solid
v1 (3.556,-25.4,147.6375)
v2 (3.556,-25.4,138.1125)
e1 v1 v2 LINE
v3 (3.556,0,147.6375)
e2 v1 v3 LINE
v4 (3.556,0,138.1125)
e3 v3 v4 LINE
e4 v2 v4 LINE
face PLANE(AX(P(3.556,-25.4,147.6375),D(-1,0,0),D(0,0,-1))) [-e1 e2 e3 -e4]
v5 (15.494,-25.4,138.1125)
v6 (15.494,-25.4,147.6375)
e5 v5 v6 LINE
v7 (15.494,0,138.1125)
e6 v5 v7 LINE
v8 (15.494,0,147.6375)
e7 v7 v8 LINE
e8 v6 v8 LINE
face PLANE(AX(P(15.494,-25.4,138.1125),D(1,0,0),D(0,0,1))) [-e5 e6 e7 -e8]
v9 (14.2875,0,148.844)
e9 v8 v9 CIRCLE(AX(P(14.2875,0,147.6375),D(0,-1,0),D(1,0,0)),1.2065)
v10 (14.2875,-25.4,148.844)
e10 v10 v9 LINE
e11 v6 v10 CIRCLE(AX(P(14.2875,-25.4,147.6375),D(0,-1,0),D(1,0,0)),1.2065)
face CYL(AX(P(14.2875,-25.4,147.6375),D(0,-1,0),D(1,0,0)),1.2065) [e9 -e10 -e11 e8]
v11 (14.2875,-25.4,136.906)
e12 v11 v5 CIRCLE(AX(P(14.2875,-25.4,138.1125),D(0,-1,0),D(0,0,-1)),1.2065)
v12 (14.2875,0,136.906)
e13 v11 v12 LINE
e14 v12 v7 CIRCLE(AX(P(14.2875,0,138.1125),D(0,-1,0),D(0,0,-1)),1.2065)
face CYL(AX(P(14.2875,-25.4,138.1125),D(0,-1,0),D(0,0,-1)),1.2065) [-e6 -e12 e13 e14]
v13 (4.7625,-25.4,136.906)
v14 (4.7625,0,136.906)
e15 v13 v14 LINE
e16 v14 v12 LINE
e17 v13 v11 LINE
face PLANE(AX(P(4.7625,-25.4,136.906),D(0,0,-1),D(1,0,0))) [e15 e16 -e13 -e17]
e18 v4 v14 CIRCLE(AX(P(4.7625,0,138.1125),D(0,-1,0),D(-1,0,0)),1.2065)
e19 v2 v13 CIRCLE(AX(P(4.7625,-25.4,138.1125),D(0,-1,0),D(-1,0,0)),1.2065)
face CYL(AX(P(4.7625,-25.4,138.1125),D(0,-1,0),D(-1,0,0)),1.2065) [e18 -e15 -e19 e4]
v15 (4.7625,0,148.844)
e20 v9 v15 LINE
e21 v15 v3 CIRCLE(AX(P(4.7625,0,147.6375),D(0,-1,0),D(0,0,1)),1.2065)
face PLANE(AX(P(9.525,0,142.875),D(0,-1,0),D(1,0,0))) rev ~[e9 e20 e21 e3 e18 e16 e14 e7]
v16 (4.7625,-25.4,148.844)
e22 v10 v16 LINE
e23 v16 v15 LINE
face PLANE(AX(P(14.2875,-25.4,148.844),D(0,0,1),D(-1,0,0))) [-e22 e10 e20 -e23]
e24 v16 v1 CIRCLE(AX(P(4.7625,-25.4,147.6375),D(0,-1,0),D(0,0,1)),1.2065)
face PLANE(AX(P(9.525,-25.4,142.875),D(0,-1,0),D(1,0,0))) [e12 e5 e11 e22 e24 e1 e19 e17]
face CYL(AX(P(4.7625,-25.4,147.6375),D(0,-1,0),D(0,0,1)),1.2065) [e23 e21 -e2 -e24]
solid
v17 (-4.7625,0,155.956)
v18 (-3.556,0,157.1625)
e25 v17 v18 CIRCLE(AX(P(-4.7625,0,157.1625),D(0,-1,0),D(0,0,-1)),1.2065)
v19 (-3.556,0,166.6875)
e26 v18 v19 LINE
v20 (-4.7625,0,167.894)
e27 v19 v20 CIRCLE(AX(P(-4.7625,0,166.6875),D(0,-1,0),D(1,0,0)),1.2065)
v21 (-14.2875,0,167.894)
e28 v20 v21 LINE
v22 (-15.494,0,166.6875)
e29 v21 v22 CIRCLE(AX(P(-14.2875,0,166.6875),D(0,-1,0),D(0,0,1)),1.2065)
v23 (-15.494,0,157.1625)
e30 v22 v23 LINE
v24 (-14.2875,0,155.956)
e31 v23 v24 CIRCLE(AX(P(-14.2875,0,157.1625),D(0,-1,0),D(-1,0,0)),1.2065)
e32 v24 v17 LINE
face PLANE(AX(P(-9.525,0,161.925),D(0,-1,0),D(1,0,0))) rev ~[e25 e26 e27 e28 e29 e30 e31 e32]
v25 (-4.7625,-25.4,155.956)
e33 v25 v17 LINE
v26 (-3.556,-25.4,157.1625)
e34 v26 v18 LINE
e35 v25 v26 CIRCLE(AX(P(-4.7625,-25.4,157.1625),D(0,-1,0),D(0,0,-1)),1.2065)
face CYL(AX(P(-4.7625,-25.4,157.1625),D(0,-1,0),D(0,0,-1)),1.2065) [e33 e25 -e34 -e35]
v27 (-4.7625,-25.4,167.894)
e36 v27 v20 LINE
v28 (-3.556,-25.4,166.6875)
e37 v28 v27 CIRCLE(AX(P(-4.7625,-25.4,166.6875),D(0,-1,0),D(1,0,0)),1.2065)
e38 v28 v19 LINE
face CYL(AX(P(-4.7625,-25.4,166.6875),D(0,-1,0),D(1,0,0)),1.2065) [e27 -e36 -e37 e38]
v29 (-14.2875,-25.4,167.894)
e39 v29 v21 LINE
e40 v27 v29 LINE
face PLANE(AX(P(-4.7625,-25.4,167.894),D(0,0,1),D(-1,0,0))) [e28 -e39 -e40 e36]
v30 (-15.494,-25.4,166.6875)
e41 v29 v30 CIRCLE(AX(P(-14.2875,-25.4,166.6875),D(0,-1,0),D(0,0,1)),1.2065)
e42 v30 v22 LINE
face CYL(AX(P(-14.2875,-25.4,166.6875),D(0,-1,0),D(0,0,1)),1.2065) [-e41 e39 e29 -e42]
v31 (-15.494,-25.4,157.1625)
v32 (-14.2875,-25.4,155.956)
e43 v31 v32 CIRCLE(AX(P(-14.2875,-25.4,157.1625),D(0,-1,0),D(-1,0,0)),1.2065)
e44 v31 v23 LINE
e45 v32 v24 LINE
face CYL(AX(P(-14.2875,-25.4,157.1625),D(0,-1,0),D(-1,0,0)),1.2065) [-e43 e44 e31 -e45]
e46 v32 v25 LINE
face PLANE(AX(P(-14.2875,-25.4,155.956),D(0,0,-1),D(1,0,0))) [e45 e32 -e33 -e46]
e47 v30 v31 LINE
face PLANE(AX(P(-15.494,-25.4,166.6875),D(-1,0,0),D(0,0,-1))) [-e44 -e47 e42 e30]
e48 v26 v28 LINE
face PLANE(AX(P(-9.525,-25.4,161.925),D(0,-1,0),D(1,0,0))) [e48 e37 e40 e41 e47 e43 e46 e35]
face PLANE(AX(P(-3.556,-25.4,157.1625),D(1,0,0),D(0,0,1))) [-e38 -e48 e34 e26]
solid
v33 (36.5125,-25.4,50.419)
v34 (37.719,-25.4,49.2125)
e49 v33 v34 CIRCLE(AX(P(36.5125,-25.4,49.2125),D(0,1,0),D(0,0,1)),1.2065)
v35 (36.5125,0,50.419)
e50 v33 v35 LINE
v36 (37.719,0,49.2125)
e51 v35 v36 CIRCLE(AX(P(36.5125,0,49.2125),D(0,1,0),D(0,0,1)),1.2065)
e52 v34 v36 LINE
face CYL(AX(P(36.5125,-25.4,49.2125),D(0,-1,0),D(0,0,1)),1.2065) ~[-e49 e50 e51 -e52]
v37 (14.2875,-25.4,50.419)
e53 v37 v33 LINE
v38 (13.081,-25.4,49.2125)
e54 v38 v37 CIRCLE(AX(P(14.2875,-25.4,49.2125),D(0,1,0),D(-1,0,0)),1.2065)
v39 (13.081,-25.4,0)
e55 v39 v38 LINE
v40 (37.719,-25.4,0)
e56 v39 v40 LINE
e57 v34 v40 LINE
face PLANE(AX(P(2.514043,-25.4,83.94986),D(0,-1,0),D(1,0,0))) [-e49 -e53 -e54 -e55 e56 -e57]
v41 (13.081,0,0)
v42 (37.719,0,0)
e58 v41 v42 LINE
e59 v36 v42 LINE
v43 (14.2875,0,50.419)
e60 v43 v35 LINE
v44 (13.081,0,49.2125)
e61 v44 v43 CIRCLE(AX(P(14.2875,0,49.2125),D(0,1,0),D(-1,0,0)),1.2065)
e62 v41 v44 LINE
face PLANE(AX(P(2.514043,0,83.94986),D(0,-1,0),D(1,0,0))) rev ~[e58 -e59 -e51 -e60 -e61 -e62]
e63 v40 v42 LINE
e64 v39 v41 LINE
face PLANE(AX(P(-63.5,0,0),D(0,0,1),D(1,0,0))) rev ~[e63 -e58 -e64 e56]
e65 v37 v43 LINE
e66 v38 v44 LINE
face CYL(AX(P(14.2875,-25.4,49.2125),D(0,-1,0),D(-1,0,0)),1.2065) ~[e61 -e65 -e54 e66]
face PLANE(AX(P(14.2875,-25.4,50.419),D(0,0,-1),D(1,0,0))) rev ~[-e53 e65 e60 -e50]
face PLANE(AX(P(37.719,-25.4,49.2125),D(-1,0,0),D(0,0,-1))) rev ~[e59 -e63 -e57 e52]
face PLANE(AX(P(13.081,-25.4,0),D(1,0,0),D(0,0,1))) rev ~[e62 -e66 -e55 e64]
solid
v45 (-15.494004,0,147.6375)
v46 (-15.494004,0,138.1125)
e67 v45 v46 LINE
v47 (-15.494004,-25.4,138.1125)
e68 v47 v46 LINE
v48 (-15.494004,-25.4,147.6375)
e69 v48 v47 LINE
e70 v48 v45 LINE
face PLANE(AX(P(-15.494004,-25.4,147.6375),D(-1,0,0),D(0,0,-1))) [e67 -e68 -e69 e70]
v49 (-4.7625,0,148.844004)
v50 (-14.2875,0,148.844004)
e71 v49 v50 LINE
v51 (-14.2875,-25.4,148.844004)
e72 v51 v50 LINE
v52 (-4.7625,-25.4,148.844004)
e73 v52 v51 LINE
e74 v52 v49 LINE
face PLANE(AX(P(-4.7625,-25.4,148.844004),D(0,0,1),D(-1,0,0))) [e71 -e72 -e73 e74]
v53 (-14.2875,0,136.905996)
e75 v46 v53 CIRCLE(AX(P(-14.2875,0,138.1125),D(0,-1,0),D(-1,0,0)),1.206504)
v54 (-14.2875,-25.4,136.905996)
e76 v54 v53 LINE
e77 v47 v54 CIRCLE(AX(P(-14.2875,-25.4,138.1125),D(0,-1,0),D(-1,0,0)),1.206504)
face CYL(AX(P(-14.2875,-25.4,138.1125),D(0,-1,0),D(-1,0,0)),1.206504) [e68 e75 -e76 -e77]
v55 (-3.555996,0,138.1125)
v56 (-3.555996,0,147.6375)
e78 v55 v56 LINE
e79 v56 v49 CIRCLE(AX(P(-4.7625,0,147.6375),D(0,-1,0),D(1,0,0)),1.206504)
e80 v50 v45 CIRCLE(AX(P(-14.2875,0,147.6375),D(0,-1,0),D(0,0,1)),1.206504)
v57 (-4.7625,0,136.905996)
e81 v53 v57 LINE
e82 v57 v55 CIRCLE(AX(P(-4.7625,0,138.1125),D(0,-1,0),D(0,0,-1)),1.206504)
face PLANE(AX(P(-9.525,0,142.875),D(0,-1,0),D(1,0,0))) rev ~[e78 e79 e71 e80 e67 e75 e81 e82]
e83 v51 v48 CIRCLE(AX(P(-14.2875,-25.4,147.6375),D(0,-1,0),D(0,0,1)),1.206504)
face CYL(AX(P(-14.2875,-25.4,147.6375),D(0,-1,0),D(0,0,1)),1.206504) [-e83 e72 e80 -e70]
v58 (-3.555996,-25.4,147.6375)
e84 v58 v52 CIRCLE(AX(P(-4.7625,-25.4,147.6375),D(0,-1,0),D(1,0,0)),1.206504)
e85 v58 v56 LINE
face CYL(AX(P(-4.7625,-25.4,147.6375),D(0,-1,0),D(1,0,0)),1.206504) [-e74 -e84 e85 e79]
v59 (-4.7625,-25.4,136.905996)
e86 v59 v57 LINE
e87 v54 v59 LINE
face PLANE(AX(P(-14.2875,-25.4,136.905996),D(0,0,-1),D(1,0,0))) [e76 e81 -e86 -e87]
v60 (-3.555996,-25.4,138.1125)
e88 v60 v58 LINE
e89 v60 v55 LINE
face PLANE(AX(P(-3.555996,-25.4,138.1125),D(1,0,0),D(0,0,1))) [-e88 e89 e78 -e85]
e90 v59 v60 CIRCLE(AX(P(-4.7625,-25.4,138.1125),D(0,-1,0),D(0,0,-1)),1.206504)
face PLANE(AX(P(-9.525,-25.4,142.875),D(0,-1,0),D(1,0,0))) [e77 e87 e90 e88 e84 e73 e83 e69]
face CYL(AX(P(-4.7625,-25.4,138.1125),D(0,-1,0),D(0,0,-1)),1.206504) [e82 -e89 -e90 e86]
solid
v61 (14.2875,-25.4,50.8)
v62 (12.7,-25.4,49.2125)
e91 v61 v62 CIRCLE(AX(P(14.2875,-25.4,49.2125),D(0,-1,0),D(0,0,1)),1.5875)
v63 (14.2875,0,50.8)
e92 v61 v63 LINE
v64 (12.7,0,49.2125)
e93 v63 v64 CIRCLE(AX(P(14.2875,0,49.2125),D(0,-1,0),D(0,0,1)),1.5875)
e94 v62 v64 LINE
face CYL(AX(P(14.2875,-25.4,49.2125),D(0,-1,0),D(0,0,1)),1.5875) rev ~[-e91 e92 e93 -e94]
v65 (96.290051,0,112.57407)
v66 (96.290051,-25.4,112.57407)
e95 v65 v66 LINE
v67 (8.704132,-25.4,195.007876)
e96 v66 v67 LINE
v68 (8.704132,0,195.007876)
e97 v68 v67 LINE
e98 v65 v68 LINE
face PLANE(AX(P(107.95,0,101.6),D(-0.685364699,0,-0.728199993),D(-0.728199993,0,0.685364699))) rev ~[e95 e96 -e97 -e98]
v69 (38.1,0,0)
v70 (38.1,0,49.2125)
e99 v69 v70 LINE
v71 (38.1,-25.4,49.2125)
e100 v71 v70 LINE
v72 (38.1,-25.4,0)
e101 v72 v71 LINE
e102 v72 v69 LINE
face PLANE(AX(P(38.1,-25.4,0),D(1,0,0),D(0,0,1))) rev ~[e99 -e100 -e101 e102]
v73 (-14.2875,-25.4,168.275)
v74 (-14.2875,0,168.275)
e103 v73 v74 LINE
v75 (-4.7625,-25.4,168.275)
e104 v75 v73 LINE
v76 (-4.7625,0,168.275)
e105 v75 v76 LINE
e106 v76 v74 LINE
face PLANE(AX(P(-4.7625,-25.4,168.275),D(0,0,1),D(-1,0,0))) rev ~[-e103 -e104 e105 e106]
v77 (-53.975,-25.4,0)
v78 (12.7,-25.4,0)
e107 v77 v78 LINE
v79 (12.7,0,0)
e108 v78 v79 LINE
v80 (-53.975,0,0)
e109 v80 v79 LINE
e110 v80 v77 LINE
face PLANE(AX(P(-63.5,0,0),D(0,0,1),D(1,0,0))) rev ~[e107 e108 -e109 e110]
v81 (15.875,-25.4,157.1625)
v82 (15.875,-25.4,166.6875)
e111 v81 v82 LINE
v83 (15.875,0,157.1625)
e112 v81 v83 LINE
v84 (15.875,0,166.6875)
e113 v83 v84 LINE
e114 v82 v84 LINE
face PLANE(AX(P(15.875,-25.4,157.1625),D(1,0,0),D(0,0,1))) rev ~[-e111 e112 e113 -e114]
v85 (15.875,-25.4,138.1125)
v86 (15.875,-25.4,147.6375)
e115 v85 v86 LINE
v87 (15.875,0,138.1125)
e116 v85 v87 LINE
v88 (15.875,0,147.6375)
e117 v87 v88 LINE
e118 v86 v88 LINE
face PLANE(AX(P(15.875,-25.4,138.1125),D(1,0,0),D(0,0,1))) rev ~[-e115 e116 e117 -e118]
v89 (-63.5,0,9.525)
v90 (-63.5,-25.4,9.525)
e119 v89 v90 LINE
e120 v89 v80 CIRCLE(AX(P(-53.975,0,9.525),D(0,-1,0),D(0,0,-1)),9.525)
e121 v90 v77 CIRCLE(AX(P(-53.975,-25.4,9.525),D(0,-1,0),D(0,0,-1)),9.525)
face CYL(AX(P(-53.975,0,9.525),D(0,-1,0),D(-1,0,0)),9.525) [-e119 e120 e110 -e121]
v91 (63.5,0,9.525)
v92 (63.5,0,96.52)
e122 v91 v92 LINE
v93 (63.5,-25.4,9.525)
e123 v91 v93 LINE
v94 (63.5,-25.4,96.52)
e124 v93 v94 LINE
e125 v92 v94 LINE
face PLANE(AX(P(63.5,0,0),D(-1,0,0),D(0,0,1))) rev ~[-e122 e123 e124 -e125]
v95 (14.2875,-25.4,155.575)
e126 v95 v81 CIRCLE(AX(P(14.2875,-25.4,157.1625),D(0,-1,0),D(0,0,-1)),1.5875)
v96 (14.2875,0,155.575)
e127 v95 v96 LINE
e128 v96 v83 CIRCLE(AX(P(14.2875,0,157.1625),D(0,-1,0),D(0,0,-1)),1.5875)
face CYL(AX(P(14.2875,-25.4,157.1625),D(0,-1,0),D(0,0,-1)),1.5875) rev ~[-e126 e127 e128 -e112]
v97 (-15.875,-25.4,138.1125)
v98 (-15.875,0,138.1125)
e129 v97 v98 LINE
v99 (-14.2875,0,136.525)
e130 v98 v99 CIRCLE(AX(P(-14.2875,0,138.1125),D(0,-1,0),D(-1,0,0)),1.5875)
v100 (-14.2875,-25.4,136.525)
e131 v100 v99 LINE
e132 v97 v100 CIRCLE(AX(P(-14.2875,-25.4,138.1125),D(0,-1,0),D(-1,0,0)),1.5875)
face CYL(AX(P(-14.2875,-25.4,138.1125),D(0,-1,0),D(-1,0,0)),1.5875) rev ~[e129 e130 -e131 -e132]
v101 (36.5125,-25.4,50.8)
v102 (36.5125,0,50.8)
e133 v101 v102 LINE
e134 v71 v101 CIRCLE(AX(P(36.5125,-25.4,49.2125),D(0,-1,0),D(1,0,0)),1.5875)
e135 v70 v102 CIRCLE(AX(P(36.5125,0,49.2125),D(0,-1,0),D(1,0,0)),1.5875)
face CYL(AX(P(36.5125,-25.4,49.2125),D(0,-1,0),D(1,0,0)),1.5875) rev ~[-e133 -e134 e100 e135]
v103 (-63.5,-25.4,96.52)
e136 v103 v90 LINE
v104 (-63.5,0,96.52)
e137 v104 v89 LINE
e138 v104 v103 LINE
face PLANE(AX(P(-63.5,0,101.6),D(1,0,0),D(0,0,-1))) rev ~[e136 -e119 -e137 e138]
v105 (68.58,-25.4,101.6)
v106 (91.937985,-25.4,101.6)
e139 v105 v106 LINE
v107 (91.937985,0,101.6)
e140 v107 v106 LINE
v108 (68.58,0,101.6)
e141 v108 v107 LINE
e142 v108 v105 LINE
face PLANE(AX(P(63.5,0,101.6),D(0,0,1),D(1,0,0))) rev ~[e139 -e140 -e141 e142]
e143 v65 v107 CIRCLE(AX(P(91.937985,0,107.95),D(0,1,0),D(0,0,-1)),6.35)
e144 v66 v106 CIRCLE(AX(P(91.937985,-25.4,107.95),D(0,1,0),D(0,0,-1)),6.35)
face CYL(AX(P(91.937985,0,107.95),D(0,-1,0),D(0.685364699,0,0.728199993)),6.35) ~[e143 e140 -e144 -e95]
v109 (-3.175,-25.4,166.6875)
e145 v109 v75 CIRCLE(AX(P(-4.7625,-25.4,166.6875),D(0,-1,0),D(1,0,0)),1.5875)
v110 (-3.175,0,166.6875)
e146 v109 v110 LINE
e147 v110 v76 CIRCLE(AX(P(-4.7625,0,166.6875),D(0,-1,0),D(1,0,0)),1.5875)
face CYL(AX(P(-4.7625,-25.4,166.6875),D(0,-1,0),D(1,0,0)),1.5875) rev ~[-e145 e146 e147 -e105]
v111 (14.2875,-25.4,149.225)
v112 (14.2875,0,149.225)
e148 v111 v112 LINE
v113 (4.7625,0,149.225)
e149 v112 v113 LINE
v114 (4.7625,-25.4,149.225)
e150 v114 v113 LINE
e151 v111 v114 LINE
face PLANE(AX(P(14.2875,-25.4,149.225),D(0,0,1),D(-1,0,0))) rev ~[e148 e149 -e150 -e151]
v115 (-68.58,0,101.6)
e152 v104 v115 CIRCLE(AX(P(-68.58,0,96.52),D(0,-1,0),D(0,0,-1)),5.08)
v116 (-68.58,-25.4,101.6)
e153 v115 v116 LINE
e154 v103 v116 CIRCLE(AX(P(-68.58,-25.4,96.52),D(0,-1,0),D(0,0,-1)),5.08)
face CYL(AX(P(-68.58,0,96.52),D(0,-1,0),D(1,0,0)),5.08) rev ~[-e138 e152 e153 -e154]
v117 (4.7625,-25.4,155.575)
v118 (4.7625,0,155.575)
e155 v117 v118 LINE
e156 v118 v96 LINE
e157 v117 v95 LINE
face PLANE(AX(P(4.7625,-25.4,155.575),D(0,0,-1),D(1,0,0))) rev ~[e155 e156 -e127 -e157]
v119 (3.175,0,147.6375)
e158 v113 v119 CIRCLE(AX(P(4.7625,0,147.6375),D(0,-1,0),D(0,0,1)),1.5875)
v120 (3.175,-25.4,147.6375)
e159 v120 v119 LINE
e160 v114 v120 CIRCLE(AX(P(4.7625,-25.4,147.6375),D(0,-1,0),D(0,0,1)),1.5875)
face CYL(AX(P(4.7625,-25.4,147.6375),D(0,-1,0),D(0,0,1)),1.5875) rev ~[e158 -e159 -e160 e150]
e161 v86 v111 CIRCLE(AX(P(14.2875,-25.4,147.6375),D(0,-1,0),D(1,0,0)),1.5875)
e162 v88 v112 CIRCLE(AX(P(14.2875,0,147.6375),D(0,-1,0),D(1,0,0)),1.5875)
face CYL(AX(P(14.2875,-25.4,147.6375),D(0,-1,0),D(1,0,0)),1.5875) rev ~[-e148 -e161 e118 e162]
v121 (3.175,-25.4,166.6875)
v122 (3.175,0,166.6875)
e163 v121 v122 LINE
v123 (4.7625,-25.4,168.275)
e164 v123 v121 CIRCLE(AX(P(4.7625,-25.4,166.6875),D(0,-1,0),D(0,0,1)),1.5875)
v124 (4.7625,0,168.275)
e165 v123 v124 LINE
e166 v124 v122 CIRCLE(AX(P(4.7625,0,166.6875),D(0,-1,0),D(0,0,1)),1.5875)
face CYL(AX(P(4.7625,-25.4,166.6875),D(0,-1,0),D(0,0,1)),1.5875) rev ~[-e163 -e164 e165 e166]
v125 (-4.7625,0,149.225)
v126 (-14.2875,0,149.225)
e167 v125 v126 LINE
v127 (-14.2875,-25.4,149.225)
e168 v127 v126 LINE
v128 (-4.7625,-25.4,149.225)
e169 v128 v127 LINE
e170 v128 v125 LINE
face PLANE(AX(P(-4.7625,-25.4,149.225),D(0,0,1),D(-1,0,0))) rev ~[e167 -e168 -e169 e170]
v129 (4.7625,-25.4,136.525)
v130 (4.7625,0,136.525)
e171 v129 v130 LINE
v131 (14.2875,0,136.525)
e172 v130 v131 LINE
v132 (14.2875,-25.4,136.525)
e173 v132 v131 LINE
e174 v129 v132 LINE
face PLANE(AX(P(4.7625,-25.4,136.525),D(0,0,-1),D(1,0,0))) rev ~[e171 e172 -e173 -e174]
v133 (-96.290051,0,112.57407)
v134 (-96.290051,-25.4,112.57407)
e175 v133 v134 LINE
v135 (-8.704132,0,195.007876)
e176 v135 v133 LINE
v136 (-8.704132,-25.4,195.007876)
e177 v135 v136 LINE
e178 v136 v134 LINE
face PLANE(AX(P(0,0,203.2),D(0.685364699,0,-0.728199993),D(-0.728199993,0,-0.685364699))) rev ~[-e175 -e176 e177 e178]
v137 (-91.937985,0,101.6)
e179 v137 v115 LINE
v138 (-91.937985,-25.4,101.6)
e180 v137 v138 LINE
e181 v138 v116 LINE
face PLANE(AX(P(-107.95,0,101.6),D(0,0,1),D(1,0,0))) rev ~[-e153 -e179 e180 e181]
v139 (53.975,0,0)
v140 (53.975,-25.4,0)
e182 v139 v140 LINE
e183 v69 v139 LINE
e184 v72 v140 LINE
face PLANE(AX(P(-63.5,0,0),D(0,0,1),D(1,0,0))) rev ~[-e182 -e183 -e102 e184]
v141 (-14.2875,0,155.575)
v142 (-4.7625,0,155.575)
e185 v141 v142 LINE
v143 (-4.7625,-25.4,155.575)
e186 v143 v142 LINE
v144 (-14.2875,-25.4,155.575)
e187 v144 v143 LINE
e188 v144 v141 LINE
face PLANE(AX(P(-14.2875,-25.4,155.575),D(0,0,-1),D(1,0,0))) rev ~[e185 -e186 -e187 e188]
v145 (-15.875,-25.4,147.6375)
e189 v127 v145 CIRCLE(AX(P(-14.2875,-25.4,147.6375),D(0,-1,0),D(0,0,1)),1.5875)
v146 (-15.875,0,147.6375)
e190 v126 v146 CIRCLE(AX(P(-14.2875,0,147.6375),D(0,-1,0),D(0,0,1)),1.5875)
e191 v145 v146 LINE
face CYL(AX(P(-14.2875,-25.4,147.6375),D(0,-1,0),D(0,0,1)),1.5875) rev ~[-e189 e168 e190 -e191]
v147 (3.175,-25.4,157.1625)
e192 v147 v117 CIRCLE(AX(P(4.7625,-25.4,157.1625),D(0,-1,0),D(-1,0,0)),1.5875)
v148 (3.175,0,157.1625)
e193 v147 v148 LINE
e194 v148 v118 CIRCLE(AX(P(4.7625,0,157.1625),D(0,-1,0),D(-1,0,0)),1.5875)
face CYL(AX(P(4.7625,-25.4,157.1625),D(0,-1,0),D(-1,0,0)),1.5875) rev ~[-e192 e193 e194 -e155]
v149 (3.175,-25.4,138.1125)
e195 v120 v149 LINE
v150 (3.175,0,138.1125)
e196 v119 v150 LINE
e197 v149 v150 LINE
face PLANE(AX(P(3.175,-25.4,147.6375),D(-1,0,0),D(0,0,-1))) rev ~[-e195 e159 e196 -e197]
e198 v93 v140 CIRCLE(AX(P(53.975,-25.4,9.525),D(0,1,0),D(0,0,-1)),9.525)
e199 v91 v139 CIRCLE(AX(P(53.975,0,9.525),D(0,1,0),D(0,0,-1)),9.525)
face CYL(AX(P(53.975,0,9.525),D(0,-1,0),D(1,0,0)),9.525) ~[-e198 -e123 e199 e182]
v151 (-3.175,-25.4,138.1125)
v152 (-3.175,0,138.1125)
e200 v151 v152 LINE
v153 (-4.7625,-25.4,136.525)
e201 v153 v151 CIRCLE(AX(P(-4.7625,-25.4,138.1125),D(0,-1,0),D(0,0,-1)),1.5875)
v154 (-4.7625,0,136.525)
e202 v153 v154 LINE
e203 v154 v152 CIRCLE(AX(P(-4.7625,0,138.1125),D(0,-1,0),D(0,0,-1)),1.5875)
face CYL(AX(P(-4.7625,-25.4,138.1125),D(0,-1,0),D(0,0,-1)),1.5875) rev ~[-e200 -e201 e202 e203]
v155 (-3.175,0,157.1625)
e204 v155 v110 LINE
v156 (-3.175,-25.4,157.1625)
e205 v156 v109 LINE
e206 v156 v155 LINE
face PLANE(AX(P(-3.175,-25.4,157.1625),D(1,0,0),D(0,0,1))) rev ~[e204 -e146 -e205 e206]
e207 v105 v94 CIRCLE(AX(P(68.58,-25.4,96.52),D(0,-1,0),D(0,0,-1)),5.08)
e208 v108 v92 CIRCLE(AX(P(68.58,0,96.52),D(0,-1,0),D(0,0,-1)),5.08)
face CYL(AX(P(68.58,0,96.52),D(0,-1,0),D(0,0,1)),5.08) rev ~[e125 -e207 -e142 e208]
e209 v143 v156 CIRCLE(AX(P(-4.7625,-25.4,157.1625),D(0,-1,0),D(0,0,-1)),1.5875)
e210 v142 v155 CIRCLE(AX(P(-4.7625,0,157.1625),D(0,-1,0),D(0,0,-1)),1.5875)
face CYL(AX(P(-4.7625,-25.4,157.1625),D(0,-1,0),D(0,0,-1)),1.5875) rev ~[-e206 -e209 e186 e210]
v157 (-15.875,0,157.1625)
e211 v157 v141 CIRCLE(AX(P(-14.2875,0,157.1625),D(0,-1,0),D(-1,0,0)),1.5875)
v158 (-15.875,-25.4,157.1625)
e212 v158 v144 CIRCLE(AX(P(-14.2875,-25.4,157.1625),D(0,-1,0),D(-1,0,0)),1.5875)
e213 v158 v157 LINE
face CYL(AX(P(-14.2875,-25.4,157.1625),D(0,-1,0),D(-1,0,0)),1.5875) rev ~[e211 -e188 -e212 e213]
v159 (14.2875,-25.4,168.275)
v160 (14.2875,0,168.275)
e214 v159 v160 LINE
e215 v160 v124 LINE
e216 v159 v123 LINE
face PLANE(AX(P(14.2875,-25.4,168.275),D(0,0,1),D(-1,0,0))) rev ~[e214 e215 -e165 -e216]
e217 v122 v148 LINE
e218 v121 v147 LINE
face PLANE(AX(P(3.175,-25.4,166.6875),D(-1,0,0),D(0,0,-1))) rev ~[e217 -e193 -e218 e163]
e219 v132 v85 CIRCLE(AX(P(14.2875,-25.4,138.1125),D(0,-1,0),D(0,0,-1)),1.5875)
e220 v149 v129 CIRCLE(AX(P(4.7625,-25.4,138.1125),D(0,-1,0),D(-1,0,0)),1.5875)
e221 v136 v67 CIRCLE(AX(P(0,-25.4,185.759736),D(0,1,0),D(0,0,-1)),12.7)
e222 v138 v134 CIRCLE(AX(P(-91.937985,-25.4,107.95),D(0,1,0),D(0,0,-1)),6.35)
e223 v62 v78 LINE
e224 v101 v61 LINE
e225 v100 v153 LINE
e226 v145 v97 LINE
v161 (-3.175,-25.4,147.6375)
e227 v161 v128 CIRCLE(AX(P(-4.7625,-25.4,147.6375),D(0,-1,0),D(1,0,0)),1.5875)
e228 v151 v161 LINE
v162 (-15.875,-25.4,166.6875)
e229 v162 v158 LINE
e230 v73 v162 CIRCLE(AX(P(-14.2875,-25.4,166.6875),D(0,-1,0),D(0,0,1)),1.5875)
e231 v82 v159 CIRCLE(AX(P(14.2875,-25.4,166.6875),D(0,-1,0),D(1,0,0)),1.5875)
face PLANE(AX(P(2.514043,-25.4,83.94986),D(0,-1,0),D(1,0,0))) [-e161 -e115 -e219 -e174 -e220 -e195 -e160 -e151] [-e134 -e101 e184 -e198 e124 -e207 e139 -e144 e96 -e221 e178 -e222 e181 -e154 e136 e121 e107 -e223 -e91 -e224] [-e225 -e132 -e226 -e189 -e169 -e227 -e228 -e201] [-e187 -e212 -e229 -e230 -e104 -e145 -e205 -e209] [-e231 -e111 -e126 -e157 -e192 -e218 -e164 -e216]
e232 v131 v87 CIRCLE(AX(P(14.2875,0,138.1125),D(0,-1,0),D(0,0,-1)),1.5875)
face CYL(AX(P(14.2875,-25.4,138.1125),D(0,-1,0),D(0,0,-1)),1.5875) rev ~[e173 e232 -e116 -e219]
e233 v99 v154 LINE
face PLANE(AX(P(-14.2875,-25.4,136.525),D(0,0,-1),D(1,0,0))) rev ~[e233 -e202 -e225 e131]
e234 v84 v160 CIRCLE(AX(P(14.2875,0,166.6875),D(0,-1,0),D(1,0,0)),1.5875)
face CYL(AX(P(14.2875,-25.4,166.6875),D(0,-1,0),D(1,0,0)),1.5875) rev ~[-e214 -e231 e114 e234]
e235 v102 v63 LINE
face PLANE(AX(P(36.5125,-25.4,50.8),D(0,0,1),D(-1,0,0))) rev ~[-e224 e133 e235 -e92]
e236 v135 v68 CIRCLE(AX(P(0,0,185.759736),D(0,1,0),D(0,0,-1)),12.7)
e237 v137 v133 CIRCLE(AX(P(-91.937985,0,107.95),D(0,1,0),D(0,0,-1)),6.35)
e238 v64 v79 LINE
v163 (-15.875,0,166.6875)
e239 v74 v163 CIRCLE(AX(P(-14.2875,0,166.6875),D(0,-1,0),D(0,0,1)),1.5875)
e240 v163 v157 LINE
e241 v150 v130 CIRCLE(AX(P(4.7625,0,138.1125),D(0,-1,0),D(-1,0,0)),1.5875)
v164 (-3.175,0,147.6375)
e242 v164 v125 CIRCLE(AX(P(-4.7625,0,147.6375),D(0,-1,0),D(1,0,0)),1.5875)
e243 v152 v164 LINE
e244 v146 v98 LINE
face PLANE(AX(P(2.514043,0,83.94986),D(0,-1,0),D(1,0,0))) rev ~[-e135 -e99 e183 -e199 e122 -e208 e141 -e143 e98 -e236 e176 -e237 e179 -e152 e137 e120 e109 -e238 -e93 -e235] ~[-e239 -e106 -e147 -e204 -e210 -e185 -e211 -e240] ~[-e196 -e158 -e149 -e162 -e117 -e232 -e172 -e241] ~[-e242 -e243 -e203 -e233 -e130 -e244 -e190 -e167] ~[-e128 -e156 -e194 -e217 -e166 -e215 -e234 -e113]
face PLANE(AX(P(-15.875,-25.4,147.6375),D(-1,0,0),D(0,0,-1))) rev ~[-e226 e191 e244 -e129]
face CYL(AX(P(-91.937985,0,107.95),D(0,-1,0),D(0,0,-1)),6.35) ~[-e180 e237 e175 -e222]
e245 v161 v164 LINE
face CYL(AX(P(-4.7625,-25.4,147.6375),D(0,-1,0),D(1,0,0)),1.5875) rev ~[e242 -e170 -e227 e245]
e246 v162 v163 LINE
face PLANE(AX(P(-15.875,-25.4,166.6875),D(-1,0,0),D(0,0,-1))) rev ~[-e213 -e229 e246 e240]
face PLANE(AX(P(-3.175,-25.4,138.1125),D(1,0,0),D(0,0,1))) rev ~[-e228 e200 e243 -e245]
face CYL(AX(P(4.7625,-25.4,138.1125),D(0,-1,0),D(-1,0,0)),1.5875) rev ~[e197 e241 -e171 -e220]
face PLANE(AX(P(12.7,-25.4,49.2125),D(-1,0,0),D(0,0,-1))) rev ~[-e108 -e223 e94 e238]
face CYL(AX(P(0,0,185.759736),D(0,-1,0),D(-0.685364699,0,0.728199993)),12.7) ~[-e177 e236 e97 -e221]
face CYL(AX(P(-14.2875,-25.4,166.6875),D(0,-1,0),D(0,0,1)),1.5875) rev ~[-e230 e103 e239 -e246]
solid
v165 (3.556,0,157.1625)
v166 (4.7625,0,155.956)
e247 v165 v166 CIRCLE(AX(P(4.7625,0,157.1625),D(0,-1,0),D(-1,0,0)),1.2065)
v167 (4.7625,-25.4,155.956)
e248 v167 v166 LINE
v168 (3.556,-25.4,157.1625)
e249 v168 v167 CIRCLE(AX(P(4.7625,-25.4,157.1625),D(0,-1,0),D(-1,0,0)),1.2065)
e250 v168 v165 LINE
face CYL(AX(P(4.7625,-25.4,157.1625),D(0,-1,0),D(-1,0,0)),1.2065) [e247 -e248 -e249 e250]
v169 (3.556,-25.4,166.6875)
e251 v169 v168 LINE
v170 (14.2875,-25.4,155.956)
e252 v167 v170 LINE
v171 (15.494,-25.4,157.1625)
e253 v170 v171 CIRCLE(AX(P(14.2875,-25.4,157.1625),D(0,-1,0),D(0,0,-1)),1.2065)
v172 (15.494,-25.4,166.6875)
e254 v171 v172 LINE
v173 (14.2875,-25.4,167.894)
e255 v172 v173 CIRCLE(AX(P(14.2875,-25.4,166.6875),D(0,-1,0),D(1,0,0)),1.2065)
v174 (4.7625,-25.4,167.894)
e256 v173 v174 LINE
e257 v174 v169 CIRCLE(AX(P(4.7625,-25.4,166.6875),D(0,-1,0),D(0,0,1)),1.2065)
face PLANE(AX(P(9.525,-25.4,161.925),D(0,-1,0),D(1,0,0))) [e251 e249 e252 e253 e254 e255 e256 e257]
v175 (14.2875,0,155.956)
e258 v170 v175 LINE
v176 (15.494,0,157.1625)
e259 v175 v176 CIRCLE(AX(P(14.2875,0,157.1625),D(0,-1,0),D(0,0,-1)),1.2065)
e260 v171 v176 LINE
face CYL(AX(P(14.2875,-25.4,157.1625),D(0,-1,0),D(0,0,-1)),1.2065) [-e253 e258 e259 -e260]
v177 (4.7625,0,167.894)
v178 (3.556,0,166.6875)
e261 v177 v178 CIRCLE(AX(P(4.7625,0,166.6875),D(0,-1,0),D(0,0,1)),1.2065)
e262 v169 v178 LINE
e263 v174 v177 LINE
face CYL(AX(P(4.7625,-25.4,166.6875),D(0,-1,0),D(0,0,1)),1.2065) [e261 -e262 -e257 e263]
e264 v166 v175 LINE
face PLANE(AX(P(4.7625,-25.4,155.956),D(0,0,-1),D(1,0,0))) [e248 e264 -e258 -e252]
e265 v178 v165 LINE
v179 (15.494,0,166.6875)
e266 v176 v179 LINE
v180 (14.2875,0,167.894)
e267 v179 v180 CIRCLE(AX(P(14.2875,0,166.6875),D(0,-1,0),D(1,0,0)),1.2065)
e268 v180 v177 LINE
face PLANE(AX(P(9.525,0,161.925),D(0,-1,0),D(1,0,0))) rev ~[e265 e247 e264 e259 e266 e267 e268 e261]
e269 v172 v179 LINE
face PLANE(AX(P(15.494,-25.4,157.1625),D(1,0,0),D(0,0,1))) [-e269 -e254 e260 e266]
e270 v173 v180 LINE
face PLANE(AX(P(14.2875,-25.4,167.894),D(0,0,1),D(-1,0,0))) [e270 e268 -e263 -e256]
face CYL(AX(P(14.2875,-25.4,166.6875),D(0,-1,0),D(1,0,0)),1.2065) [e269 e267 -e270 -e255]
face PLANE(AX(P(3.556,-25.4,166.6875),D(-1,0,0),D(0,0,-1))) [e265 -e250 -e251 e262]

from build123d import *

# Parameters (mm, degrees)
F0_W     = 25.0974502414
F0_H     = 46.2554767728
F1_DEPTH = 25.4
F3_DEPTH = 25.4
F5_DEPTH = 25.4
F7_DEPTH = 25.4
F8_R     = 6.35
F9_R     = 12.7
F10_R    = 9.525
F11_R    = 5.08


with BuildPart() as f1:
    # F0 (on Front) → F1 (new body)
    with BuildSketch(Plane.XZ):
        Polygon((-63.5, 101.6), (-63.5, 0), (9.4117764384, 0), (9.4117764384, 46.2554767728), (34.5092266798, 46.2554767728), (34.5092266798, 0), (63.5, 0), (63.5, 101.6), (107.95, 101.6), (0, 203.2), (-107.95, 101.6), align=None)
        with Locations((21.9605015591, 23.1277383864)):
            Rectangle(F0_W, F0_H)
    extrude(amount=F1_DEPTH)

    # F2 (on face) → F3 (cut)
    with BuildSketch(Plane.XZ.offset(25.4)):
        with BuildLine():
            Line((14.2875, 168.275), (4.7625, 168.275))
            ThreePointArc((4.7625, 168.275), (3.6399679849, 167.8100320151), (3.175, 166.6875))
            Line((3.175, 166.6875), (3.175, 157.1625))
            ThreePointArc((3.175, 157.1625), (3.6399679849, 156.0399679849), (4.7625, 155.575))
            Line((4.7625, 155.575), (14.2875, 155.575))
            ThreePointArc((14.2875, 155.575), (15.4100320151, 156.0399679849), (15.875, 157.1625))
            Line((15.875, 157.1625), (15.875, 166.6875))
            ThreePointArc((15.875, 166.6875), (15.4100320151, 167.8100320151), (14.2875, 168.275))
        make_face()
        with BuildLine():
            Line((-4.7625, 149.225), (-14.2875, 149.225))
            ThreePointArc((-14.2875, 149.225), (-15.4100320151, 148.7600320151), (-15.875, 147.6375))
            Line((-15.875, 147.6375), (-15.875, 138.1125))
            ThreePointArc((-15.875, 138.1125), (-15.4100320151, 136.9899679849), (-14.2875, 136.525))
            Line((-14.2875, 136.525), (-4.7625, 136.525))
            ThreePointArc((-4.7625, 136.525), (-3.6399679849, 136.9899679849), (-3.175, 138.1125))
            Line((-3.175, 138.1125), (-3.175, 147.6375))
            ThreePointArc((-3.175, 147.6375), (-3.6399679849, 148.7600320151), (-4.7625, 149.225))
        make_face()
        with BuildLine():
            Line((14.2875, 149.225), (4.7625, 149.225))
            ThreePointArc((4.7625, 149.225), (3.6399679849, 148.7600320151), (3.175, 147.6375))
            Line((3.175, 147.6375), (3.175, 138.1125))
            ThreePointArc((3.175, 138.1125), (3.6399679849, 136.9899679849), (4.7625, 136.525))
            Line((4.7625, 136.525), (14.2875, 136.525))
            ThreePointArc((14.2875, 136.525), (15.4100320151, 136.9899679849), (15.875, 138.1125))
            Line((15.875, 138.1125), (15.875, 147.6375))
            ThreePointArc((15.875, 147.6375), (15.4100320151, 148.7600320151), (14.2875, 149.225))
        make_face()
        with BuildLine():
            Line((-4.7625, 168.275), (-14.2875, 168.275))
            ThreePointArc((-14.2875, 168.275), (-15.4100320151, 167.8100320151), (-15.875, 166.6875))
            Line((-15.875, 166.6875), (-15.875, 157.1625))
            ThreePointArc((-15.875, 157.1625), (-15.4100320151, 156.0399679849), (-14.2875, 155.575))
            Line((-14.2875, 155.575), (-4.7625, 155.575))
            ThreePointArc((-4.7625, 155.575), (-3.6399679849, 156.0399679849), (-3.175, 157.1625))
            Line((-3.175, 157.1625), (-3.175, 166.6875))
            ThreePointArc((-3.175, 166.6875), (-3.6399679849, 167.8100320151), (-4.7625, 168.275))
        make_face()
    extrude(amount=-F3_DEPTH, mode=Mode.SUBTRACT)

    # F6 (on face) → F7 (cut)
    with BuildSketch(Plane.XZ.offset(25.4)):
        with BuildLine():
            Line((12.7, 49.2125), (12.7, 0))
            Line((12.7, 0), (13.081, 0))
            Line((13.081, 0), (13.081, 49.2125))
            ThreePointArc((13.081, 49.2125), (13.4343756685, 50.0656243315), (14.2875, 50.419))
            Line((14.2875, 50.419), (36.5125, 50.419))
            ThreePointArc((36.5125, 50.419), (37.3656243315, 50.0656243315), (37.719, 49.2125))
            Line((37.719, 49.2125), (37.719, 0))
            Line((37.719, 0), (38.1, 0))
            Line((38.1, 0), (38.1, 49.2125))
            ThreePointArc((38.1, 49.2125), (37.6350320151, 50.3350320151), (36.5125, 50.8))
            Line((36.5125, 50.8), (14.2875, 50.8))
            ThreePointArc((14.2875, 50.8), (13.1649679849, 50.3350320151), (12.7, 49.2125))
        make_face()
    extrude(amount=-F7_DEPTH, mode=Mode.SUBTRACT)

    # F8
    f8_edges = [f1.edges().sort_by_distance(p)[0] for p in [
        (107.95, -12.7, 101.6),
        (-107.95, -12.7, 101.6),
    ]]
    fillet(f8_edges, radius=F8_R)

    # F9
    f9_edges = [f1.edges().sort_by_distance(p)[0] for p in [
        (0, -12.7, 203.2),
    ]]
    fillet(f9_edges, radius=F9_R)

    # F10
    f10_edges = [f1.edges().sort_by_distance(p)[0] for p in [
        (63.5, -12.7, 0),
        (-63.5, -12.7, 0),
    ]]
    fillet(f10_edges, radius=F10_R)

    # F11
    f11_edges = [f1.edges().sort_by_distance(p)[0] for p in [
        (-63.5, -12.7, 101.6),
        (63.5, -12.7, 101.6),
    ]]
    fillet(f11_edges, radius=F11_R)


with BuildPart() as f5:
    # F4 (on face) → F5 (new body)
    with BuildSketch(Plane.XZ.offset(25.4)):
        with BuildLine():
            Line((-4.7625, 167.894), (-14.2875, 167.894))
            ThreePointArc((-14.2875, 167.894), (-15.1406243315, 167.5406243315), (-15.494, 166.6875))
            Line((-15.494, 166.6875), (-15.494, 157.1625))
            ThreePointArc((-15.494, 157.1625), (-15.1406243315, 156.3093756685), (-14.2875, 155.956))
            Line((-14.2875, 155.956), (-4.7625, 155.956))
            ThreePointArc((-4.7625, 155.956), (-3.9093756685, 156.3093756685), (-3.556, 157.1625))
            Line((-3.556, 157.1625), (-3.556, 166.6875))
            ThreePointArc((-3.556, 166.6875), (-3.9093756685, 167.5406243315), (-4.7625, 167.894))
        make_face()
    extrude(amount=-F5_DEPTH)


with BuildPart() as f5b:
    # F4 (on face) → F5, piece 2 (new body)
    with BuildSketch(Plane.XZ.offset(25.4)):
        with BuildLine():
            Line((14.2875, 167.894), (4.7625, 167.894))
            ThreePointArc((4.7625, 167.894), (3.9093756685, 167.5406243315), (3.556, 166.6875))
            Line((3.556, 166.6875), (3.556, 157.1625))
            ThreePointArc((3.556, 157.1625), (3.9093756685, 156.3093756685), (4.7625, 155.956))
            Line((4.7625, 155.956), (14.2875, 155.956))
            ThreePointArc((14.2875, 155.956), (15.1406243315, 156.3093756685), (15.494, 157.1625))
            Line((15.494, 157.1625), (15.494, 166.6875))
            ThreePointArc((15.494, 166.6875), (15.1406243315, 167.5406243315), (14.2875, 167.894))
        make_face()
    extrude(amount=-F5_DEPTH)


with BuildPart() as f5c:
    # F4 (on face) → F5, piece 3 (new body)
    with BuildSketch(Plane.XZ.offset(25.4)):
        with BuildLine():
            Line((-4.7625, 148.8440036774), (-14.2875, 148.8440036774))
            ThreePointArc((-14.2875, 148.8440036774), (-15.1406269318, 148.4906269318), (-15.4940036774, 147.6375))
            Line((-15.4940036774, 147.6375), (-15.4940036774, 138.1125))
            ThreePointArc((-15.4940036774, 138.1125), (-15.1406269318, 137.2593730682), (-14.2875, 136.9059963226))
            Line((-14.2875, 136.9059963226), (-4.7625, 136.9059963226))
            ThreePointArc((-4.7625, 136.9059963226), (-3.9093730682, 137.2593730682), (-3.5559963226, 138.1125))
            Line((-3.5559963226, 138.1125), (-3.5559963226, 147.6375))
            ThreePointArc((-3.5559963226, 147.6375), (-3.9093730682, 148.4906269318), (-4.7625, 148.8440036774))
        make_face()
    extrude(amount=-F5_DEPTH)


with BuildPart() as f5d:
    # F4 (on face) → F5, piece 4 (new body)
    with BuildSketch(Plane.XZ.offset(25.4)):
        with BuildLine():
            Line((14.2875, 148.844), (4.7625, 148.844))
            ThreePointArc((4.7625, 148.844), (3.9093756685, 148.4906243315), (3.556, 147.6375))
            Line((3.556, 147.6375), (3.556, 138.1125))
            ThreePointArc((3.556, 138.1125), (3.9093756685, 137.2593756685), (4.7625, 136.906))
            Line((4.7625, 136.906), (14.2875, 136.906))
            ThreePointArc((14.2875, 136.906), (15.1406243315, 137.2593756685), (15.494, 138.1125))
            Line((15.494, 138.1125), (15.494, 147.6375))
            ThreePointArc((15.494, 147.6375), (15.1406243315, 148.4906243315), (14.2875, 148.844))
        make_face()
    extrude(amount=-F5_DEPTH)


solid = Compound([f1.part, f5.part, f5b.part, f5c.part, f5d.part])
